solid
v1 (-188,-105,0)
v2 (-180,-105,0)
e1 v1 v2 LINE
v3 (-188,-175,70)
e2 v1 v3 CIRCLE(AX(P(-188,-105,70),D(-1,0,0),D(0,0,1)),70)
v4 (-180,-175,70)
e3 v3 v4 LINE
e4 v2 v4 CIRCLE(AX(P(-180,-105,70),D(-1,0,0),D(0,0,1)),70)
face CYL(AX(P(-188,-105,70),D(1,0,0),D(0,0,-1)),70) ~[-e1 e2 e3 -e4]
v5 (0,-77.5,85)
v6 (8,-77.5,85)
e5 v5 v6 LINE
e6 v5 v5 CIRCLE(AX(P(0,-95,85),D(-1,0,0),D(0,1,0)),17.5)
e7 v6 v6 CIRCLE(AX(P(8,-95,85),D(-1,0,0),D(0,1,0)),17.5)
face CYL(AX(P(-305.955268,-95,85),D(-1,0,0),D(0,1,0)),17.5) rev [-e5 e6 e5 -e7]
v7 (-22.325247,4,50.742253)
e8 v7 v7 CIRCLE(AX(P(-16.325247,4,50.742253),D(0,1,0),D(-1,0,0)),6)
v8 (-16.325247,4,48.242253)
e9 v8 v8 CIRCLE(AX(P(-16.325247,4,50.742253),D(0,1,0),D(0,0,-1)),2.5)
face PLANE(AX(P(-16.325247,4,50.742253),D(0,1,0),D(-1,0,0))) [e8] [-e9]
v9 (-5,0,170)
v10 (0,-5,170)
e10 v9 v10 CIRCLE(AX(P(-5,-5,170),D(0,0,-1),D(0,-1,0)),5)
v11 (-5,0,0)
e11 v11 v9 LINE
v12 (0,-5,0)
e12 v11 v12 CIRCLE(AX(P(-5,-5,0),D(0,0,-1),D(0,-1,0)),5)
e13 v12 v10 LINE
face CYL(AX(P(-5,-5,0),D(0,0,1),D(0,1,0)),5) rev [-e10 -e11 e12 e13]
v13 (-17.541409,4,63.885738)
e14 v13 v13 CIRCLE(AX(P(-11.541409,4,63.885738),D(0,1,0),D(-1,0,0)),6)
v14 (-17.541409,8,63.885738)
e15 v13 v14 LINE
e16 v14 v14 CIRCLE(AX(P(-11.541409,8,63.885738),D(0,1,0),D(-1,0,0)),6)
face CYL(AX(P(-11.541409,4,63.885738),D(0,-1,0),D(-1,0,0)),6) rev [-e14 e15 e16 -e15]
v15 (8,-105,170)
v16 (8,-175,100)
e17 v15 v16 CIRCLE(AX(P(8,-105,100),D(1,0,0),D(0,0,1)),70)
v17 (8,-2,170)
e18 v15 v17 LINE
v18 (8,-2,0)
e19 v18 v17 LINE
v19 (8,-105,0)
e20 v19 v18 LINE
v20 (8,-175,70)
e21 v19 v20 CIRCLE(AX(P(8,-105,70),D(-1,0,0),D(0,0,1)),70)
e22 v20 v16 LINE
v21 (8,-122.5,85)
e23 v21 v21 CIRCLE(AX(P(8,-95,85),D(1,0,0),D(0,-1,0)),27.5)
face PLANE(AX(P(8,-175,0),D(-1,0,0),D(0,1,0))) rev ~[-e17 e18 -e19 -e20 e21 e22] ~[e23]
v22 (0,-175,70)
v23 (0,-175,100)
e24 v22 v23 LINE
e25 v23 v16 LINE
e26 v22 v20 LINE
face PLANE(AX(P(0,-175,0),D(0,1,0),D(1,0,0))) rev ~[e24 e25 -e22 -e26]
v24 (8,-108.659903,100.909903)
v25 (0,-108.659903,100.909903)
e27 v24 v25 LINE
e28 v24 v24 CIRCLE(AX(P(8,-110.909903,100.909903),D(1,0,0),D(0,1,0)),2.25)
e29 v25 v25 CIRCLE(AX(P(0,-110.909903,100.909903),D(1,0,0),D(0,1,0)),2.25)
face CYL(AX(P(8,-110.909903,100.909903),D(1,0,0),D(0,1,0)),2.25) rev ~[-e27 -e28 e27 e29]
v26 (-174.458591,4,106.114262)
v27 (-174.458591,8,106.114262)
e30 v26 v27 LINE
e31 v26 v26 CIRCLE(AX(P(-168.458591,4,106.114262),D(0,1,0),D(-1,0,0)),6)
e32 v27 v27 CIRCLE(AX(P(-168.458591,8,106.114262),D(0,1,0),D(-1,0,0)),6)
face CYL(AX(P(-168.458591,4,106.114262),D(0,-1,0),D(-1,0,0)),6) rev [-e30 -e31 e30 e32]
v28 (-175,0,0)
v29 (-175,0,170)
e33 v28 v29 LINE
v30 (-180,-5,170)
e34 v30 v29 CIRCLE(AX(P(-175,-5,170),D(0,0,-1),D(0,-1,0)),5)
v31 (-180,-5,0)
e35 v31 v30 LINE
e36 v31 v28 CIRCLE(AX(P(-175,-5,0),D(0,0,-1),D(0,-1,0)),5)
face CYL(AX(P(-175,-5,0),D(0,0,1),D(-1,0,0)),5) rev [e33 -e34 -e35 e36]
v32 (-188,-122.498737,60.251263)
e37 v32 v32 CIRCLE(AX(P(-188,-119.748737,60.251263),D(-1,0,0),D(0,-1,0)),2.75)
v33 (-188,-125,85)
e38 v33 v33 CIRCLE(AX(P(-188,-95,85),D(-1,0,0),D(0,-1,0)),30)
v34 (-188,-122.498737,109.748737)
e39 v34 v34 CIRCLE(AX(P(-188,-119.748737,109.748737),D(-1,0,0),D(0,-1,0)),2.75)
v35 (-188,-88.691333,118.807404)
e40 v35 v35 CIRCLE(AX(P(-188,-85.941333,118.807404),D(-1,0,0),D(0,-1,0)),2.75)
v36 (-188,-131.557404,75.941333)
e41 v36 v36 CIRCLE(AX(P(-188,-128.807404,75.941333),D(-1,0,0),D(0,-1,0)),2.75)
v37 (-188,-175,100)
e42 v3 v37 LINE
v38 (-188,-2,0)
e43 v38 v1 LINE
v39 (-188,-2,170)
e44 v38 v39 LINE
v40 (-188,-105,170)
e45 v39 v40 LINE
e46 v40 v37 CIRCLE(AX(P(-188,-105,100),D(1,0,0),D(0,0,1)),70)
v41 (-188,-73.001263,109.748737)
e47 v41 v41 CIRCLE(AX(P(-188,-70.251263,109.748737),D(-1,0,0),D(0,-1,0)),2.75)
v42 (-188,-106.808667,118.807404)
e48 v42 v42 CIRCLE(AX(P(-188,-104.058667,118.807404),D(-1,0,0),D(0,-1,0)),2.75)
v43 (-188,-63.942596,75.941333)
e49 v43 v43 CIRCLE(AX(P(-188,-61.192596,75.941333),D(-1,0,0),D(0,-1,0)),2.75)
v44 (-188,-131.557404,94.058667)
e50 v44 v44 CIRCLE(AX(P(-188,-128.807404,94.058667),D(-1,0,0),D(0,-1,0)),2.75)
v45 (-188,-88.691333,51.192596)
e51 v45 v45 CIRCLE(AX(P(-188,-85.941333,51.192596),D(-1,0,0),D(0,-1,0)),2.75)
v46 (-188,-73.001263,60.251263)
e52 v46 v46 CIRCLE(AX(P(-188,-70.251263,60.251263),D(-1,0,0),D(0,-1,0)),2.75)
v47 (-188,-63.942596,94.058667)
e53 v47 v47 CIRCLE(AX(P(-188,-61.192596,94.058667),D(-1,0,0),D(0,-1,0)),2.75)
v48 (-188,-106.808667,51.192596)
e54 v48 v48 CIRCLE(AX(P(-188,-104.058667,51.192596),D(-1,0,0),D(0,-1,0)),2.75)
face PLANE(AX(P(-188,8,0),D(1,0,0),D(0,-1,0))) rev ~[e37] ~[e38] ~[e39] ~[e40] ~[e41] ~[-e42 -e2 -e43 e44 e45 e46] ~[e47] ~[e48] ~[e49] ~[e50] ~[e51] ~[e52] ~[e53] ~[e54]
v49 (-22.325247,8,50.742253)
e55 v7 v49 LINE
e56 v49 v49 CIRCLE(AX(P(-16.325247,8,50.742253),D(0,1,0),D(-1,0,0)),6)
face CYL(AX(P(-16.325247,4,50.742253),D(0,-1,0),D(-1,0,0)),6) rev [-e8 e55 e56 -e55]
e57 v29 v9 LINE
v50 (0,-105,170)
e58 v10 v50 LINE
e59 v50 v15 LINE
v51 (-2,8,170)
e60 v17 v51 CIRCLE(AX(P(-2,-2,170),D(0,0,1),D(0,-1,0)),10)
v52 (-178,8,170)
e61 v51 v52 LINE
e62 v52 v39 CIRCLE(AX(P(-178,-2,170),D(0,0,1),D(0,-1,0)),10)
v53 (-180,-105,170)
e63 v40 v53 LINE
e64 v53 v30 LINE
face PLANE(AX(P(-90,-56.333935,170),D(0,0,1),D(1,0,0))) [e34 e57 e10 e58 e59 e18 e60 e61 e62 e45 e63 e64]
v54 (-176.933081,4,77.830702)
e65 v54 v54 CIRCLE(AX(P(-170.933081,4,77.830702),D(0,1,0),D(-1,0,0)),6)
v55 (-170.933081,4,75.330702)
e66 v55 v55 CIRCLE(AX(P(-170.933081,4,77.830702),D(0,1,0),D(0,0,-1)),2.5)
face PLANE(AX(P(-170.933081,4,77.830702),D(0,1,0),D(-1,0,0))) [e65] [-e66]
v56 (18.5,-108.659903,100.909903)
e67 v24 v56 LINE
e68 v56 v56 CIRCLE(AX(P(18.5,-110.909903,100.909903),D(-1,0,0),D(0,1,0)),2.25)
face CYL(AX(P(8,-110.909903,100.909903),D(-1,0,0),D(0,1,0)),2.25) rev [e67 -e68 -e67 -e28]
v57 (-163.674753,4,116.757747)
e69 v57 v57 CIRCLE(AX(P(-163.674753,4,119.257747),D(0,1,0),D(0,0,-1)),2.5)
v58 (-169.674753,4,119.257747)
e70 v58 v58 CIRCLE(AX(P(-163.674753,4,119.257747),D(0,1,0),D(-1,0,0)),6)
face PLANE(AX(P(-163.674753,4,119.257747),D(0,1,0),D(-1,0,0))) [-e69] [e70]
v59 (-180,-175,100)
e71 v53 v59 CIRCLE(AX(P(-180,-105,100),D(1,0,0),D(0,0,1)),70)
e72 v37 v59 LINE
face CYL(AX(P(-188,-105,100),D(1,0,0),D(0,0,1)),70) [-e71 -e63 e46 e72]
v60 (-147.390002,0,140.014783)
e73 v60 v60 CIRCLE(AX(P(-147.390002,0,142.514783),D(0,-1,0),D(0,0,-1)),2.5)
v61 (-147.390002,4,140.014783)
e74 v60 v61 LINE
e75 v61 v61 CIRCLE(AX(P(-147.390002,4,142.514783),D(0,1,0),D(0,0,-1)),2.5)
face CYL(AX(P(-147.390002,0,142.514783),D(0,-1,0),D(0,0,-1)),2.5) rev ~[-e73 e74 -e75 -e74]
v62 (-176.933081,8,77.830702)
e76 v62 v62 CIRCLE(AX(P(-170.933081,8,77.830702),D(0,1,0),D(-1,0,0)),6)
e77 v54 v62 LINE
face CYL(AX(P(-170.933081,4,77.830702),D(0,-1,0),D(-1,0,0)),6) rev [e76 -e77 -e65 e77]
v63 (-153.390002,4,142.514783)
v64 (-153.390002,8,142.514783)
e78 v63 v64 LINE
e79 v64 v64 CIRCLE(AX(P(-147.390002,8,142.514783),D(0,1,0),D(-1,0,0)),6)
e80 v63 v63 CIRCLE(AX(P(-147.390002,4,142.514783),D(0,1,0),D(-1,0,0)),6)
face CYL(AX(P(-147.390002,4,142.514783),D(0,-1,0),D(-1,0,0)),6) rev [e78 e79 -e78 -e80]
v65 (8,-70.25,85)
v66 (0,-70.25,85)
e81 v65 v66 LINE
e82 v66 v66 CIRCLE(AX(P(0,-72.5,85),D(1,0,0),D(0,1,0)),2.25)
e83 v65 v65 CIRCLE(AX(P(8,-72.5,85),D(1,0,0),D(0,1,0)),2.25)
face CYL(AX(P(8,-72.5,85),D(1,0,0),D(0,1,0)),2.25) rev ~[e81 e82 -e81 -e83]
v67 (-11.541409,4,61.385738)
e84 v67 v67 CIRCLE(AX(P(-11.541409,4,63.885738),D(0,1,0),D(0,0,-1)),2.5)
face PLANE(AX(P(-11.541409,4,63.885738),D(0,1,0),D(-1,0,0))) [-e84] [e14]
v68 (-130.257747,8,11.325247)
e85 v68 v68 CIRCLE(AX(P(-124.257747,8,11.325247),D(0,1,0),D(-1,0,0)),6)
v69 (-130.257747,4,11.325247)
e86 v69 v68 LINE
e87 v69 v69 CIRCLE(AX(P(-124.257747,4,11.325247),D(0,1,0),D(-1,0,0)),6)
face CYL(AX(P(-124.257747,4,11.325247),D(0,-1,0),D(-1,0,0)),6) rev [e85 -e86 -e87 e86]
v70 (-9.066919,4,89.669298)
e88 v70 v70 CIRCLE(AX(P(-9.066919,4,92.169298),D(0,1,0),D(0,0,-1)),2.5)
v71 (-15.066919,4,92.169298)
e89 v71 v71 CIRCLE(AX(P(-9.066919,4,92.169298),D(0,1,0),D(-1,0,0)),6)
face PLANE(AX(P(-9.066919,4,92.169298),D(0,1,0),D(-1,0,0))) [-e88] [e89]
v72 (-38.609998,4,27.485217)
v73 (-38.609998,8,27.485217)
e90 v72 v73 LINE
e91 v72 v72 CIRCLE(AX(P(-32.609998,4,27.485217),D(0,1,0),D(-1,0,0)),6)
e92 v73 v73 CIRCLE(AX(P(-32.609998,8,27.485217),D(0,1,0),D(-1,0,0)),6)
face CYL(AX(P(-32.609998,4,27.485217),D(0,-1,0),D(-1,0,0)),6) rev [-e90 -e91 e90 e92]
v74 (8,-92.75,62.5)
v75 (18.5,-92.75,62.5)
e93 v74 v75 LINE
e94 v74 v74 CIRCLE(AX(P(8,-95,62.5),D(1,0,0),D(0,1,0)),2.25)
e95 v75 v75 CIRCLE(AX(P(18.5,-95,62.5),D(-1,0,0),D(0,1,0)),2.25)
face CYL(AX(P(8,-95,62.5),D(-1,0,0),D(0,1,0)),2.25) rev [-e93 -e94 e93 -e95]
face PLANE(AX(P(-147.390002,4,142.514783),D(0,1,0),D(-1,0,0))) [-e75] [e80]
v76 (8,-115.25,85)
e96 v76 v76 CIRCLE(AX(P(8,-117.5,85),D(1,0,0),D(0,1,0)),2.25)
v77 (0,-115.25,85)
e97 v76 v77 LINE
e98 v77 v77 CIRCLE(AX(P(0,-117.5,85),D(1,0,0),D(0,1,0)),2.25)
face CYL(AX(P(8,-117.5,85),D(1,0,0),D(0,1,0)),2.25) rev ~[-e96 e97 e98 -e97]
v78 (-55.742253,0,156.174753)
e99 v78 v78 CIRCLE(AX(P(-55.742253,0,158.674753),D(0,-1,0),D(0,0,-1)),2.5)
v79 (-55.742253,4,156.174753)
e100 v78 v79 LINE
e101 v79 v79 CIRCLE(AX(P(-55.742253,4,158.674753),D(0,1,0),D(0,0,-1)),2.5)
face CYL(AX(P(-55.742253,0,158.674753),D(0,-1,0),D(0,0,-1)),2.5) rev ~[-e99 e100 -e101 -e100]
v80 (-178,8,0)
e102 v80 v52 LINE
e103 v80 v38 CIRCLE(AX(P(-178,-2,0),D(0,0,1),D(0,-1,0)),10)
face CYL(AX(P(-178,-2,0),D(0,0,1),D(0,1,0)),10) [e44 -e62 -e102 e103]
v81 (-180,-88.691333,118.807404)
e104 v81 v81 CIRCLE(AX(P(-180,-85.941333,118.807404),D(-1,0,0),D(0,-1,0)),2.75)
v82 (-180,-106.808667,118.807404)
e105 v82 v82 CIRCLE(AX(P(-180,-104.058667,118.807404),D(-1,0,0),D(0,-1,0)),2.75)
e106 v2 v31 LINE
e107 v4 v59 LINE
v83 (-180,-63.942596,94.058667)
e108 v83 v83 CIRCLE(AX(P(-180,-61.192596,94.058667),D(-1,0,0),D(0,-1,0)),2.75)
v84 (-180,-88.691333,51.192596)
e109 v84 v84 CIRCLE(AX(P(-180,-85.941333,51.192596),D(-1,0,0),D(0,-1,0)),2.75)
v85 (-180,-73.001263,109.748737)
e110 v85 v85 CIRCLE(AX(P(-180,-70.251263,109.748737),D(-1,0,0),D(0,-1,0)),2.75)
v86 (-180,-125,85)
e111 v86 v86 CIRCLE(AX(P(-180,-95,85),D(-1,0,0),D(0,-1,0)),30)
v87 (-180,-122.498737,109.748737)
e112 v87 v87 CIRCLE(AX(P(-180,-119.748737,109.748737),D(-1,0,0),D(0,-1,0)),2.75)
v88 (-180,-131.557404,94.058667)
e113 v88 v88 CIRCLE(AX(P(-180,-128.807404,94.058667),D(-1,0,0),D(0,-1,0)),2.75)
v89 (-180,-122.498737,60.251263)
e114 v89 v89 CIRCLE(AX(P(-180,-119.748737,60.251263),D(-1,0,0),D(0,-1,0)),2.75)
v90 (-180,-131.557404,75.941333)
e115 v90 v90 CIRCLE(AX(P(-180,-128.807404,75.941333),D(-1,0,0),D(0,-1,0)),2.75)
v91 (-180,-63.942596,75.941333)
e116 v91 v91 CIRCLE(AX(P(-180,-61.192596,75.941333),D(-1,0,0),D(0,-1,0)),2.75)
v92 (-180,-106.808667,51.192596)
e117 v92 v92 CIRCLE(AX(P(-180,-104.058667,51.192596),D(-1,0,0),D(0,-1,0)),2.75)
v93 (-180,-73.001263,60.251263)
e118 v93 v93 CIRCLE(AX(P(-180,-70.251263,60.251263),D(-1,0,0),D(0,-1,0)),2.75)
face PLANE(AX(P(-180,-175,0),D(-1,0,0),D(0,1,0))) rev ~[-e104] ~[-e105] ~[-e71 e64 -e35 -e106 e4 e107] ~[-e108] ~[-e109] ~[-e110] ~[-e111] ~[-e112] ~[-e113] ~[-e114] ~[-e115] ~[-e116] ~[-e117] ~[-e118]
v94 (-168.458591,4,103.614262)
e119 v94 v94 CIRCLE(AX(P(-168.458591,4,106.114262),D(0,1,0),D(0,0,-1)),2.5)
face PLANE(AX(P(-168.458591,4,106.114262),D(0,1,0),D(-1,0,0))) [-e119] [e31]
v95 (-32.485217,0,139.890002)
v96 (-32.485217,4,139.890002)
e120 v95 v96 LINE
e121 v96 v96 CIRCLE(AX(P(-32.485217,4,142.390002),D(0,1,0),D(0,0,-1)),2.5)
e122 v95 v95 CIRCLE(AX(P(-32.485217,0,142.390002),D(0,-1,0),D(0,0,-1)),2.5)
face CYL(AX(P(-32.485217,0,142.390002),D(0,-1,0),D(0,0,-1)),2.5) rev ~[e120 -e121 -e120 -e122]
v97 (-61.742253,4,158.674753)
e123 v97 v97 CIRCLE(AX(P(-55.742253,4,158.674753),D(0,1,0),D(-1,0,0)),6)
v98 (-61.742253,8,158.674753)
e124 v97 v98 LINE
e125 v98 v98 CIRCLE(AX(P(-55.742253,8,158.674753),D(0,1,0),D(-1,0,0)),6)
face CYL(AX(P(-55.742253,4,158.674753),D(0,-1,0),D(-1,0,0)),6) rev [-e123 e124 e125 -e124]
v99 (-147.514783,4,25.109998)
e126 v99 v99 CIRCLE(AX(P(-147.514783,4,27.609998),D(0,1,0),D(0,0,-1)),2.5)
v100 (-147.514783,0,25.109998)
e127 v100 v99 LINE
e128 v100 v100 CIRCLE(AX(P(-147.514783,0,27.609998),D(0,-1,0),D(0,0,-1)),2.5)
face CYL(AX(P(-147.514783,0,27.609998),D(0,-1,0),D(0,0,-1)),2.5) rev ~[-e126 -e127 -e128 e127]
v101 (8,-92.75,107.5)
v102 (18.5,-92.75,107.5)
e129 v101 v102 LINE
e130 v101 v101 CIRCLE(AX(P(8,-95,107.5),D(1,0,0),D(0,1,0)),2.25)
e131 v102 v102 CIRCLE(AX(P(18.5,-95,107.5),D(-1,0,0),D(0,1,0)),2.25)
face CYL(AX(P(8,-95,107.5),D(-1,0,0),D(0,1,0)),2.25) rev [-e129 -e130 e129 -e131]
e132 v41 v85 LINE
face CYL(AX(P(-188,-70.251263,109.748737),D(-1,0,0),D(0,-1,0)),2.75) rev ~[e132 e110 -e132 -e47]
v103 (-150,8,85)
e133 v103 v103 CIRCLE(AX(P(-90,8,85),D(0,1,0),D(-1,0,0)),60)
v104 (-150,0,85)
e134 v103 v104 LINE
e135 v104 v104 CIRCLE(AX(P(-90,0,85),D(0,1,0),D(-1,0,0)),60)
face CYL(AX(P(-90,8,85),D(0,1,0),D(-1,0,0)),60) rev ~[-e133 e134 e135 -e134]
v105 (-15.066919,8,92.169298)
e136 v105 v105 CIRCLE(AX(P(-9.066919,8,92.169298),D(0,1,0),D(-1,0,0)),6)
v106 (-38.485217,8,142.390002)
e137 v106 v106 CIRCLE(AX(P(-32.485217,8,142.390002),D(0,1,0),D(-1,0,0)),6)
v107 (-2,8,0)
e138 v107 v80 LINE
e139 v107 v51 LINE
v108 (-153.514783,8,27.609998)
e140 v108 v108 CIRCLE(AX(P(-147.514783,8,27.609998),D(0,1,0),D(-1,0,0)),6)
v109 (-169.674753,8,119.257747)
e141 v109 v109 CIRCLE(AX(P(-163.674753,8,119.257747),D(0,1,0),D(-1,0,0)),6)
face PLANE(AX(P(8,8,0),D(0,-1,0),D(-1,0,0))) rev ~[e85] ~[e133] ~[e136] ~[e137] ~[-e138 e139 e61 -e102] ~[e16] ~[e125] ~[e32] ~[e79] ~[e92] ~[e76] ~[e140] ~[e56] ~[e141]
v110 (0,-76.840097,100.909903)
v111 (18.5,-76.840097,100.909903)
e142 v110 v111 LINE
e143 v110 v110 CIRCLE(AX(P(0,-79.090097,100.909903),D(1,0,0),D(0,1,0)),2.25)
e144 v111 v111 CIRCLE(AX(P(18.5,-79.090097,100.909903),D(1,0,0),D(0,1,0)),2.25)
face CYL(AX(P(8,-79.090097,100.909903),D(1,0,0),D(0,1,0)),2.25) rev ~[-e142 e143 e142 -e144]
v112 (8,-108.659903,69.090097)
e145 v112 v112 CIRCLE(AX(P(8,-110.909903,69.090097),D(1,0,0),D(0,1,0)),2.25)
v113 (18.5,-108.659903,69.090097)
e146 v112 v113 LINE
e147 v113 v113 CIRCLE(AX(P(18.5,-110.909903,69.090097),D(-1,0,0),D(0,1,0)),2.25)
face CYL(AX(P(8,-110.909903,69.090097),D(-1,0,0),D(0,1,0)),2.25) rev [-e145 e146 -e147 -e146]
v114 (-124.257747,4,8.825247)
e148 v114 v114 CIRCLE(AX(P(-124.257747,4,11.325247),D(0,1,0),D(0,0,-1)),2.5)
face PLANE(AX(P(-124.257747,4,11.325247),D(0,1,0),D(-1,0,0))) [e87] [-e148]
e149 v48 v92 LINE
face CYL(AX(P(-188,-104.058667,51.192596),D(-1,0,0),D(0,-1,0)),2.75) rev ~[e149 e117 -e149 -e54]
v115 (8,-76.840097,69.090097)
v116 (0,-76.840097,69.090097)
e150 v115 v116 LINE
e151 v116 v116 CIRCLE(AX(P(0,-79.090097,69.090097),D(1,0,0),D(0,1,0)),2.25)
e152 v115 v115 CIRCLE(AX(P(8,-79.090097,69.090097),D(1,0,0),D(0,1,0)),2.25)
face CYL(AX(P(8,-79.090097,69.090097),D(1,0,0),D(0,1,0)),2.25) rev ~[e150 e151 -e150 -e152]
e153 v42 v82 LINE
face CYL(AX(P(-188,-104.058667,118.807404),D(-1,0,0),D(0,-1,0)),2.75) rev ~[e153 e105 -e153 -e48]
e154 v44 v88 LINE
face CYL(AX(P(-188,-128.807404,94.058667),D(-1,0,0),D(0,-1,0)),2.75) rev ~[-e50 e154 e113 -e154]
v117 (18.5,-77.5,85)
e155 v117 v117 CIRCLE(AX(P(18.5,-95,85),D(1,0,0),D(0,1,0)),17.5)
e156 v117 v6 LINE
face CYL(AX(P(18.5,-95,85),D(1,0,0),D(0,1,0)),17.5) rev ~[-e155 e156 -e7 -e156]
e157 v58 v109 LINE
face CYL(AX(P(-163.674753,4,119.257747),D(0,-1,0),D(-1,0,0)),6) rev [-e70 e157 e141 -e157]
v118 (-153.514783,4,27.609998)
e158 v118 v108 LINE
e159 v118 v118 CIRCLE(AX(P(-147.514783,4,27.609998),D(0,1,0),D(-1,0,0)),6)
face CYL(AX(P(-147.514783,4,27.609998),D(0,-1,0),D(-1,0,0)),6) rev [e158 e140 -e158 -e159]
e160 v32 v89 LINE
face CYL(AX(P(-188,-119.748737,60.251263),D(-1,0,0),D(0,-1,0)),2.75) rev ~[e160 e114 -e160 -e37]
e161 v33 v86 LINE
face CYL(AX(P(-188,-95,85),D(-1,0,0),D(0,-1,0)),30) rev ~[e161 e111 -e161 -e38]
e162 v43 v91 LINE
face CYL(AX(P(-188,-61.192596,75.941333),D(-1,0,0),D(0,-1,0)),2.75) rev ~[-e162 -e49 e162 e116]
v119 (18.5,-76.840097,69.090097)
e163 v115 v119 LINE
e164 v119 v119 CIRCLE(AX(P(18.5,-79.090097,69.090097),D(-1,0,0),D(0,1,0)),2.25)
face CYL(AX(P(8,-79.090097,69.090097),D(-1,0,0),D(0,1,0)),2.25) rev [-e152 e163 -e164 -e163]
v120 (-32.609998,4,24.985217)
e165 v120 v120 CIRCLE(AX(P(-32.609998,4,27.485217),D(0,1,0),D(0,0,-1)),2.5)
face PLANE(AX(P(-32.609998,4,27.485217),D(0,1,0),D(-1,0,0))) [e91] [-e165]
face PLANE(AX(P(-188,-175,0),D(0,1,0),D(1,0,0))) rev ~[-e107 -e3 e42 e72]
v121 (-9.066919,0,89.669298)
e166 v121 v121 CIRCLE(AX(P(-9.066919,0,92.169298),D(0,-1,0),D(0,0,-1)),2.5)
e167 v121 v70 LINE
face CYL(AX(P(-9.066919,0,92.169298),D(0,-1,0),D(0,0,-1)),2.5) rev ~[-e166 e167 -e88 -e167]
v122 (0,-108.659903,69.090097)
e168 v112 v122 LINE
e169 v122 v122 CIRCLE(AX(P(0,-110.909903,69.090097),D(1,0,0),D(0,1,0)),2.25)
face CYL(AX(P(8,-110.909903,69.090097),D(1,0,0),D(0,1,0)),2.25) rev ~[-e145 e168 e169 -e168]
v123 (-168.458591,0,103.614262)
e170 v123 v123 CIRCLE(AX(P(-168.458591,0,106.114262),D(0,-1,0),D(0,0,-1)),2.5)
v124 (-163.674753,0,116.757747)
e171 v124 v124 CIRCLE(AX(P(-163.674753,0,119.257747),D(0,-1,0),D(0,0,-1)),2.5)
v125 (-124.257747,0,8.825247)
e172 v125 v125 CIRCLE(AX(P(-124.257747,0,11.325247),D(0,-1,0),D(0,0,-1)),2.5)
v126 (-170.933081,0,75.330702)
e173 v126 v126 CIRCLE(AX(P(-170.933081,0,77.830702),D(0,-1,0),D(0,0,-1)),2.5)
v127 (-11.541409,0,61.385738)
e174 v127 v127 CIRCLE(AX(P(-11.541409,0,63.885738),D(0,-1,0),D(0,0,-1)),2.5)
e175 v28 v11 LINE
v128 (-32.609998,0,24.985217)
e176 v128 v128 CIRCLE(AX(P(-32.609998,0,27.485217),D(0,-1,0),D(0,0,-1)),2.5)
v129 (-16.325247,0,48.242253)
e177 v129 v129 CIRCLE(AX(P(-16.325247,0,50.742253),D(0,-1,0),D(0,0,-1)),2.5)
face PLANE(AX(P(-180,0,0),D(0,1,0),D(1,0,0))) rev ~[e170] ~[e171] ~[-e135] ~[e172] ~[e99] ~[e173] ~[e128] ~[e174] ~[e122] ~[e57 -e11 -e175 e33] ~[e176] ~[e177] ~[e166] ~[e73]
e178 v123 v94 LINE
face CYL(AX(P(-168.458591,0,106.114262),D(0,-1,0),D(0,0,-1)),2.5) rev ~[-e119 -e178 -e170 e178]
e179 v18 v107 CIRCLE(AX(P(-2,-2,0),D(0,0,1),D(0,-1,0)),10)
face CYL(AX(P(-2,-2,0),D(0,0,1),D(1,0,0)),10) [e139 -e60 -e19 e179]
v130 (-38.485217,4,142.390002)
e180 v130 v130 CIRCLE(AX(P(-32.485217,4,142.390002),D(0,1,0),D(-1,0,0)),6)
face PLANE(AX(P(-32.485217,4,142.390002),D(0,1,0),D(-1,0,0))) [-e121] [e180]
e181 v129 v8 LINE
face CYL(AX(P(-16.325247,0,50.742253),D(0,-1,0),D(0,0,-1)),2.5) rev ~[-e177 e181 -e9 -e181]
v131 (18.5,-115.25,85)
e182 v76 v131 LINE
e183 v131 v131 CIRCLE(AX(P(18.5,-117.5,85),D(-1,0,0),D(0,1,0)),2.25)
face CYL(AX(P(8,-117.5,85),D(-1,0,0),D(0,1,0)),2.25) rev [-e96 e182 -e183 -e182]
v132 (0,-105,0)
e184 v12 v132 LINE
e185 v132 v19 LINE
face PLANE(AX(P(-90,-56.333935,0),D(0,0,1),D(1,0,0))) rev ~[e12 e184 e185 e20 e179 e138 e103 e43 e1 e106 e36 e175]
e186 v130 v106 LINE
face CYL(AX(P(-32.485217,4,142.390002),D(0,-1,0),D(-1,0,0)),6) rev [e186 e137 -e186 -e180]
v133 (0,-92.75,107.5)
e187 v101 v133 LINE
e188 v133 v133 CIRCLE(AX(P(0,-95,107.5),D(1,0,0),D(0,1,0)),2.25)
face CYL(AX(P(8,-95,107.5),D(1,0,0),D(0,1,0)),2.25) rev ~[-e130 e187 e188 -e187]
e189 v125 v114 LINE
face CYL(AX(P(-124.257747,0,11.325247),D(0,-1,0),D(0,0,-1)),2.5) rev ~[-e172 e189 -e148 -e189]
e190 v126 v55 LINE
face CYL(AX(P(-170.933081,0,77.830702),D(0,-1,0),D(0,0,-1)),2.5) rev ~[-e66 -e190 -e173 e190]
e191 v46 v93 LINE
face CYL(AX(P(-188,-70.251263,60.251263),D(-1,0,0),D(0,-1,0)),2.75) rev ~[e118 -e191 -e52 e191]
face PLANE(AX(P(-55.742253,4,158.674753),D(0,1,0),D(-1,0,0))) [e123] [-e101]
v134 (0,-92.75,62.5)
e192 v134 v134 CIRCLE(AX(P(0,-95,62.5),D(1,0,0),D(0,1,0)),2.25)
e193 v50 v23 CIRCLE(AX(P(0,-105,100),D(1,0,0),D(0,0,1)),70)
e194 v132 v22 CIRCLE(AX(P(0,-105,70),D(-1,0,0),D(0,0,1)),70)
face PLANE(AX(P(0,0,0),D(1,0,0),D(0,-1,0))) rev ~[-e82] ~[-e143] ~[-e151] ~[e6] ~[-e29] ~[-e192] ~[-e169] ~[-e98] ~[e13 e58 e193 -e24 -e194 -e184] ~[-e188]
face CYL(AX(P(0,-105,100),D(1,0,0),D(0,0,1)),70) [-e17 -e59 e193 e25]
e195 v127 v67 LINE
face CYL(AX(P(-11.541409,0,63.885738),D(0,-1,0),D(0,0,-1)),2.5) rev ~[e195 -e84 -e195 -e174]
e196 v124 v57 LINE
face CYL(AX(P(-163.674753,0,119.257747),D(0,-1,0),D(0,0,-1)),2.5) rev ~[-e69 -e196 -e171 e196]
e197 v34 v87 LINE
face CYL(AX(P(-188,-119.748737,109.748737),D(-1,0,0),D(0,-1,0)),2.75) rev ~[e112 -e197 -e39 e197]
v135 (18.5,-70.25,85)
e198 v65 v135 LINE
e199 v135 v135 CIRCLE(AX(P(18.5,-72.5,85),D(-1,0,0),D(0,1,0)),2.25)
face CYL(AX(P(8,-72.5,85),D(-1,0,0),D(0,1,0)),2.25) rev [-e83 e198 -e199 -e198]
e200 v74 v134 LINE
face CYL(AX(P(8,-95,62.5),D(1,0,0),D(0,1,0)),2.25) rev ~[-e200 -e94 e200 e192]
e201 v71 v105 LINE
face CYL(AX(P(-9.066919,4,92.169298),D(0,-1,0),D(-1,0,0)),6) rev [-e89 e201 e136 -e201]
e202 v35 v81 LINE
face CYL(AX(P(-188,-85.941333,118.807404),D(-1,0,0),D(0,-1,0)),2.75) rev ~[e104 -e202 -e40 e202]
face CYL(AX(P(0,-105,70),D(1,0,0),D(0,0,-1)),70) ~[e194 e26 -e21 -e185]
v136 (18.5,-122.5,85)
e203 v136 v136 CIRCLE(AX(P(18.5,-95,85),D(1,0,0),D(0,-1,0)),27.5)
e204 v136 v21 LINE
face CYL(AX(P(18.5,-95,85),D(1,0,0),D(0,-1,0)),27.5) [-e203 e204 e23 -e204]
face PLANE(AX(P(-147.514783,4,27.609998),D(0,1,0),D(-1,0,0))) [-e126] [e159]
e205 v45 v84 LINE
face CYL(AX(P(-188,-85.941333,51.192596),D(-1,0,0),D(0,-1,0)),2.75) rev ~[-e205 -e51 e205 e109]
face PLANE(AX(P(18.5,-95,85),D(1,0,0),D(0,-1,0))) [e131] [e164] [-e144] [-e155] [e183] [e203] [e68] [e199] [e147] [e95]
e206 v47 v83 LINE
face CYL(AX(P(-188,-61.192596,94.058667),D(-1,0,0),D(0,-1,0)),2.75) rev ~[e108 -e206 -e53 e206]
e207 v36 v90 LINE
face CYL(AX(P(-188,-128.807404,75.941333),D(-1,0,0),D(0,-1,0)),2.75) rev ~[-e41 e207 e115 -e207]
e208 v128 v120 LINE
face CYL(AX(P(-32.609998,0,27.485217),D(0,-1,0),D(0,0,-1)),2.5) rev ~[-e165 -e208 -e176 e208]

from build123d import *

# Parameters (mm, degrees)
EXTRUDE_1_DEPTH          = 170
SKETCH_2_R               = 60
CUT_EXTRUDE_1_DEPTH      = 180
CUT_EXTRUDE_2_DEPTH      = 313.955268369
CUT_EXTRUDE_2_DEPTH_BACK = 313.955268369
SKETCH_3_R               = 17.5
FILLET_1_R               = 70
FILLET_2_R               = 5
FILLET_3_R               = 10
SKETCH_6_R               = 30
CUT_EXTRUDE_6_DEPTH      = 39
SKETCH_10_R              = 2.5
CUT_EXTRUDE_10_DEPTH     = 10
CUT_EXTRUDE_START        = -4
SKETCH_11_R              = 6
SKETCH_11_R_2            = 2.5
CUT_EXTRUDE_11_DEPTH     = 4
SKETCH_12_R              = 2.75
CUT_EXTRUDE_12_DEPTH     = 10
EXTRUDE_START            = 10.5
SKETCH_14_R              = 27.5
SKETCH_14_R_2            = 17.5
EXTRUDE_2_DEPTH          = 10.5
SKETCH_13_R              = 2.25
CUT_EXTRUDE_13_DEPTH     = 15


with BuildPart() as part:
    # 草图1 → 凸台-拉伸1 (new body)
    with BuildSketch(Plane.XY):
        Polygon((-180, 0), (0, 0), (0, -175), (8, -175), (8, 8), (-180, 8), (-188, 8), (-188, -175), (-180, -175), align=None)
    extrude(amount=EXTRUDE_1_DEPTH)

    # 草图2 → 切除-拉伸1 (cut)
    with BuildSketch(Plane(origin=(0, 8, 0), x_dir=(1, 0, 0), z_dir=(0, 1, 0))):
        with Locations(Location((-90, -85, 0), (0, 0, 180))):
            Circle(SKETCH_2_R)
    extrude(amount=-CUT_EXTRUDE_1_DEPTH, mode=Mode.SUBTRACT)

    # 草图3 → 切除-拉伸2 (cut, two sides: drawn at the far end of the back side and taken through both)
    with BuildSketch(Plane(origin=(8, 0, 0), x_dir=(0, 0, -1), z_dir=(1, 0, 0)).offset(-CUT_EXTRUDE_2_DEPTH_BACK)):
        with Locations(Location((-85, -95, 0), (0, 0, 90))):
            Circle(SKETCH_3_R)
    extrude(amount=CUT_EXTRUDE_2_DEPTH + CUT_EXTRUDE_2_DEPTH_BACK, mode=Mode.SUBTRACT)

    # 圆角1
    fillet_1_edges = [part.edges().sort_by_distance(p)[0] for p in [
        (4, -175, 0),
        (4, -175, 170),
        (-184, -175, 170),
        (-184, -175, 0),
    ]]
    fillet(fillet_1_edges, radius=FILLET_1_R)

    # 圆角2
    fillet_2_edges = [part.edges().sort_by_distance(p)[0] for p in [
        (0, 0, 85),
        (-180, 0, 85),
    ]]
    fillet(fillet_2_edges, radius=FILLET_2_R)

    # 圆角3
    fillet_3_edges = [part.edges().sort_by_distance(p)[0] for p in [
        (-188, 8, 85),
        (8, 8, 85),
    ]]
    fillet(fillet_3_edges, radius=FILLET_3_R)

    # 草图6 → 切除-拉伸6 (cut)
    with BuildSketch(Plane.ZY.offset(188)):
        with Locations(Location((85, -95, 0), (0, 0, 270))):
            Circle(SKETCH_6_R)
    extrude(amount=-CUT_EXTRUDE_6_DEPTH, mode=Mode.SUBTRACT)

    # 草图10 → 切除-拉伸10 (cut)
    with BuildSketch(Plane.XZ):
        with Locations(Location((-55.742253069, 158.674753309, 0), (0, 0, 270))):
            Circle(SKETCH_10_R)
        with Locations(Location((-32.485217492, 142.390001682, 0), (0, 0, 270))):
            Circle(SKETCH_10_R)
        with Locations(Location((-9.066918551, 92.169297536, 0), (0, 0, 270))):
            Circle(SKETCH_10_R)
        with Locations(Location((-11.541409366, 63.885738097, 0), (0, 0, 270))):
            Circle(SKETCH_10_R)
        with Locations(Location((-16.325246691, 50.742253069, 0), (0, 0, 270))):
            Circle(SKETCH_10_R)
        with Locations(Location((-32.609998318, 27.485217492, 0), (0, 0, 270))):
            Circle(SKETCH_10_R)
        with Locations(Location((-124.257746931, 11.325246691, 0), (0, 0, 270))):
            Circle(SKETCH_10_R)
        with Locations(Location((-147.514782508, 27.609998318, 0), (0, 0, 270))):
            Circle(SKETCH_10_R)
        with Locations(Location((-170.933081449, 77.830702464, 0), (0, 0, 270))):
            Circle(SKETCH_10_R)
        with Locations(Location((-168.458590634, 106.114261903, 0), (0, 0, 270))):
            Circle(SKETCH_10_R)
        with Locations(Location((-163.674753309, 119.257746931, 0), (0, 0, 270))):
            Circle(SKETCH_10_R)
        with Locations(Location((-147.390001682, 142.514782508, 0), (0, 0, 270))):
            Circle(SKETCH_10_R)
    extrude(amount=-CUT_EXTRUDE_10_DEPTH, mode=Mode.SUBTRACT)

    # 草图11 → 切除-拉伸11 (cut)
    # profile 1 of 12: a face of its own
    with BuildSketch(Plane(origin=(0, 8, 0), x_dir=(1, 0, 0), z_dir=(0, 1, 0)).offset(CUT_EXTRUDE_START)):
        with Locations(Location((-32.485217492, -142.390001682, 0), (0, 0, 180))):
            Circle(SKETCH_11_R)
        with Locations(Location((-32.485217492, -142.390001682, 0), (0, 0, 90))):
            Circle(SKETCH_11_R_2, mode=Mode.SUBTRACT)
    # profile 2 of 12: a face of its own
    with BuildSketch(Plane(origin=(0, 8, 0), x_dir=(1, 0, 0), z_dir=(0, 1, 0)).offset(CUT_EXTRUDE_START)):
        with Locations(Location((-55.742253069, -158.674753309, 0), (0, 0, 180))):
            Circle(SKETCH_11_R)
        with Locations(Location((-55.742253069, -158.674753309, 0), (0, 0, 90))):
            Circle(SKETCH_11_R_2, mode=Mode.SUBTRACT)
    # profile 3 of 12: a face of its own
    with BuildSketch(Plane(origin=(0, 8, 0), x_dir=(1, 0, 0), z_dir=(0, 1, 0)).offset(CUT_EXTRUDE_START)):
        with Locations(Location((-147.390001682, -142.514782508, 0), (0, 0, 180))):
            Circle(SKETCH_11_R)
        with Locations(Location((-147.390001682, -142.514782508, 0), (0, 0, 90))):
            Circle(SKETCH_11_R_2, mode=Mode.SUBTRACT)
    # profile 4 of 12: a face of its own
    with BuildSketch(Plane(origin=(0, 8, 0), x_dir=(1, 0, 0), z_dir=(0, 1, 0)).offset(CUT_EXTRUDE_START)):
        with Locations(Location((-163.674753309, -119.257746931, 0), (0, 0, 180))):
            Circle(SKETCH_11_R)
        with Locations(Location((-163.674753309, -119.257746931, 0), (0, 0, 90))):
            Circle(SKETCH_11_R_2, mode=Mode.SUBTRACT)
    # profile 5 of 12: a face of its own
    with BuildSketch(Plane(origin=(0, 8, 0), x_dir=(1, 0, 0), z_dir=(0, 1, 0)).offset(CUT_EXTRUDE_START)):
        with Locations(Location((-168.458590634, -106.114261903, 0), (0, 0, 180))):
            Circle(SKETCH_11_R)
        with Locations(Location((-168.458590634, -106.114261903, 0), (0, 0, 90))):
            Circle(SKETCH_11_R_2, mode=Mode.SUBTRACT)
    # profile 6 of 12: a face of its own
    with BuildSketch(Plane(origin=(0, 8, 0), x_dir=(1, 0, 0), z_dir=(0, 1, 0)).offset(CUT_EXTRUDE_START)):
        with Locations(Location((-170.933081449, -77.830702464, 0), (0, 0, 180))):
            Circle(SKETCH_11_R)
        with Locations(Location((-170.933081449, -77.830702464, 0), (0, 0, 90))):
            Circle(SKETCH_11_R_2, mode=Mode.SUBTRACT)
    # profile 7 of 12: a face of its own
    with BuildSketch(Plane(origin=(0, 8, 0), x_dir=(1, 0, 0), z_dir=(0, 1, 0)).offset(CUT_EXTRUDE_START)):
        with Locations(Location((-147.514782508, -27.609998318, 0), (0, 0, 180))):
            Circle(SKETCH_11_R)
        with Locations(Location((-147.514782508, -27.609998318, 0), (0, 0, 90))):
            Circle(SKETCH_11_R_2, mode=Mode.SUBTRACT)
    # profile 8 of 12: a face of its own
    with BuildSketch(Plane(origin=(0, 8, 0), x_dir=(1, 0, 0), z_dir=(0, 1, 0)).offset(CUT_EXTRUDE_START)):
        with Locations(Location((-124.257746931, -11.325246691, 0), (0, 0, 180))):
            Circle(SKETCH_11_R)
        with Locations(Location((-124.257746931, -11.325246691, 0), (0, 0, 90))):
            Circle(SKETCH_11_R_2, mode=Mode.SUBTRACT)
    # profile 9 of 12: a face of its own
    with BuildSketch(Plane(origin=(0, 8, 0), x_dir=(1, 0, 0), z_dir=(0, 1, 0)).offset(CUT_EXTRUDE_START)):
        with Locations(Location((-32.609998318, -27.485217492, 0), (0, 0, 180))):
            Circle(SKETCH_11_R)
        with Locations(Location((-32.609998318, -27.485217492, 0), (0, 0, 90))):
            Circle(SKETCH_11_R_2, mode=Mode.SUBTRACT)
    # profile 10 of 12: a face of its own
    with BuildSketch(Plane(origin=(0, 8, 0), x_dir=(1, 0, 0), z_dir=(0, 1, 0)).offset(CUT_EXTRUDE_START)):
        with Locations(Location((-16.325246691, -50.742253069, 0), (0, 0, 180))):
            Circle(SKETCH_11_R)
        with Locations(Location((-16.325246691, -50.742253069, 0), (0, 0, 90))):
            Circle(SKETCH_11_R_2, mode=Mode.SUBTRACT)
    # profile 11 of 12: a face of its own
    with BuildSketch(Plane(origin=(0, 8, 0), x_dir=(1, 0, 0), z_dir=(0, 1, 0)).offset(CUT_EXTRUDE_START)):
        with Locations(Location((-11.541409366, -63.885738097, 0), (0, 0, 180))):
            Circle(SKETCH_11_R)
        with Locations(Location((-11.541409366, -63.885738097, 0), (0, 0, 90))):
            Circle(SKETCH_11_R_2, mode=Mode.SUBTRACT)
    # profile 12 of 12: a face of its own
    with BuildSketch(Plane(origin=(0, 8, 0), x_dir=(1, 0, 0), z_dir=(0, 1, 0)).offset(CUT_EXTRUDE_START)):
        with Locations(Location((-9.066918551, -92.169297536, 0), (0, 0, 180))):
            Circle(SKETCH_11_R)
        with Locations(Location((-9.066918551, -92.169297536, 0), (0, 0, 90))):
            Circle(SKETCH_11_R_2, mode=Mode.SUBTRACT)
    extrude(amount=CUT_EXTRUDE_11_DEPTH, mode=Mode.SUBTRACT)

    # 草图12 → 切除-拉伸12 (cut)
    with BuildSketch(Plane.ZY.offset(188)):
        with Locations(Location((94.058666579, -128.80740392, 0), (0, 0, 270))):
            Circle(SKETCH_12_R)
        with Locations(Location((75.941333421, -128.80740392, 0), (0, 0, 270))):
            Circle(SKETCH_12_R)
        with Locations(Location((60.251262658, -119.748737342, 0), (0, 0, 270))):
            Circle(SKETCH_12_R)
        with Locations(Location((51.19259608, -104.058666579, 0), (0, 0, 270))):
            Circle(SKETCH_12_R)
        with Locations(Location((51.19259608, -85.941333421, 0), (0, 0, 270))):
            Circle(SKETCH_12_R)
        with Locations(Location((60.251262658, -70.251262658, 0), (0, 0, 270))):
            Circle(SKETCH_12_R)
        with Locations(Location((75.941333421, -61.19259608, 0), (0, 0, 270))):
            Circle(SKETCH_12_R)
        with Locations(Location((94.058666579, -61.19259608, 0), (0, 0, 270))):
            Circle(SKETCH_12_R)
        with Locations(Location((109.748737342, -70.251262658, 0), (0, 0, 270))):
            Circle(SKETCH_12_R)
        with Locations(Location((118.80740392, -85.941333421, 0), (0, 0, 270))):
            Circle(SKETCH_12_R)
        with Locations(Location((118.80740392, -104.058666579, 0), (0, 0, 270))):
            Circle(SKETCH_12_R)
        with Locations(Location((109.748737342, -119.748737342, 0), (0, 0, 270))):
            Circle(SKETCH_12_R)
    extrude(amount=-CUT_EXTRUDE_12_DEPTH, mode=Mode.SUBTRACT)

    # 草图14 → 凸台-拉伸2 (add)
    with BuildSketch(Plane(origin=(8, 0, 0), x_dir=(0, 0, -1), z_dir=(1, 0, 0)).offset(EXTRUDE_START)):
        with Locations(Location((-85, -95, 0), (0, 0, 270))):
            Circle(SKETCH_14_R)
        with Locations(Location((-85, -95, 0), (0, 0, 90))):
            Circle(SKETCH_14_R_2, mode=Mode.SUBTRACT)
    extrude(amount=-EXTRUDE_2_DEPTH)

    # 草图13 → 切除-拉伸13 (cut, symmetric)
    with BuildSketch(Plane(origin=(8, 0, 0), x_dir=(0, 0, -1), z_dir=(1, 0, 0))):
        with Locations(Location((-85, -72.5, 0), (0, 0, 90))):
            Circle(SKETCH_13_R)
        with Locations(Location((-69.090097423, -79.090097423, 0), (0, 0, 90))):
            Circle(SKETCH_13_R)
        with Locations(Location((-62.5, -95, 0), (0, 0, 90))):
            Circle(SKETCH_13_R)
        with Locations(Location((-69.090097423, -110.909902577, 0), (0, 0, 90))):
            Circle(SKETCH_13_R)
        with Locations(Location((-85, -117.5, 0), (0, 0, 90))):
            Circle(SKETCH_13_R)
        with Locations(Location((-100.909902577, -110.909902577, 0), (0, 0, 90))):
            Circle(SKETCH_13_R)
        with Locations(Location((-107.5, -95, 0), (0, 0, 90))):
            Circle(SKETCH_13_R)
        with Locations(Location((-100.909902577, -79.090097423, 0), (0, 0, 90))):
            Circle(SKETCH_13_R)
    extrude(amount=CUT_EXTRUDE_13_DEPTH, both=True, mode=Mode.SUBTRACT)


solid = part.part
